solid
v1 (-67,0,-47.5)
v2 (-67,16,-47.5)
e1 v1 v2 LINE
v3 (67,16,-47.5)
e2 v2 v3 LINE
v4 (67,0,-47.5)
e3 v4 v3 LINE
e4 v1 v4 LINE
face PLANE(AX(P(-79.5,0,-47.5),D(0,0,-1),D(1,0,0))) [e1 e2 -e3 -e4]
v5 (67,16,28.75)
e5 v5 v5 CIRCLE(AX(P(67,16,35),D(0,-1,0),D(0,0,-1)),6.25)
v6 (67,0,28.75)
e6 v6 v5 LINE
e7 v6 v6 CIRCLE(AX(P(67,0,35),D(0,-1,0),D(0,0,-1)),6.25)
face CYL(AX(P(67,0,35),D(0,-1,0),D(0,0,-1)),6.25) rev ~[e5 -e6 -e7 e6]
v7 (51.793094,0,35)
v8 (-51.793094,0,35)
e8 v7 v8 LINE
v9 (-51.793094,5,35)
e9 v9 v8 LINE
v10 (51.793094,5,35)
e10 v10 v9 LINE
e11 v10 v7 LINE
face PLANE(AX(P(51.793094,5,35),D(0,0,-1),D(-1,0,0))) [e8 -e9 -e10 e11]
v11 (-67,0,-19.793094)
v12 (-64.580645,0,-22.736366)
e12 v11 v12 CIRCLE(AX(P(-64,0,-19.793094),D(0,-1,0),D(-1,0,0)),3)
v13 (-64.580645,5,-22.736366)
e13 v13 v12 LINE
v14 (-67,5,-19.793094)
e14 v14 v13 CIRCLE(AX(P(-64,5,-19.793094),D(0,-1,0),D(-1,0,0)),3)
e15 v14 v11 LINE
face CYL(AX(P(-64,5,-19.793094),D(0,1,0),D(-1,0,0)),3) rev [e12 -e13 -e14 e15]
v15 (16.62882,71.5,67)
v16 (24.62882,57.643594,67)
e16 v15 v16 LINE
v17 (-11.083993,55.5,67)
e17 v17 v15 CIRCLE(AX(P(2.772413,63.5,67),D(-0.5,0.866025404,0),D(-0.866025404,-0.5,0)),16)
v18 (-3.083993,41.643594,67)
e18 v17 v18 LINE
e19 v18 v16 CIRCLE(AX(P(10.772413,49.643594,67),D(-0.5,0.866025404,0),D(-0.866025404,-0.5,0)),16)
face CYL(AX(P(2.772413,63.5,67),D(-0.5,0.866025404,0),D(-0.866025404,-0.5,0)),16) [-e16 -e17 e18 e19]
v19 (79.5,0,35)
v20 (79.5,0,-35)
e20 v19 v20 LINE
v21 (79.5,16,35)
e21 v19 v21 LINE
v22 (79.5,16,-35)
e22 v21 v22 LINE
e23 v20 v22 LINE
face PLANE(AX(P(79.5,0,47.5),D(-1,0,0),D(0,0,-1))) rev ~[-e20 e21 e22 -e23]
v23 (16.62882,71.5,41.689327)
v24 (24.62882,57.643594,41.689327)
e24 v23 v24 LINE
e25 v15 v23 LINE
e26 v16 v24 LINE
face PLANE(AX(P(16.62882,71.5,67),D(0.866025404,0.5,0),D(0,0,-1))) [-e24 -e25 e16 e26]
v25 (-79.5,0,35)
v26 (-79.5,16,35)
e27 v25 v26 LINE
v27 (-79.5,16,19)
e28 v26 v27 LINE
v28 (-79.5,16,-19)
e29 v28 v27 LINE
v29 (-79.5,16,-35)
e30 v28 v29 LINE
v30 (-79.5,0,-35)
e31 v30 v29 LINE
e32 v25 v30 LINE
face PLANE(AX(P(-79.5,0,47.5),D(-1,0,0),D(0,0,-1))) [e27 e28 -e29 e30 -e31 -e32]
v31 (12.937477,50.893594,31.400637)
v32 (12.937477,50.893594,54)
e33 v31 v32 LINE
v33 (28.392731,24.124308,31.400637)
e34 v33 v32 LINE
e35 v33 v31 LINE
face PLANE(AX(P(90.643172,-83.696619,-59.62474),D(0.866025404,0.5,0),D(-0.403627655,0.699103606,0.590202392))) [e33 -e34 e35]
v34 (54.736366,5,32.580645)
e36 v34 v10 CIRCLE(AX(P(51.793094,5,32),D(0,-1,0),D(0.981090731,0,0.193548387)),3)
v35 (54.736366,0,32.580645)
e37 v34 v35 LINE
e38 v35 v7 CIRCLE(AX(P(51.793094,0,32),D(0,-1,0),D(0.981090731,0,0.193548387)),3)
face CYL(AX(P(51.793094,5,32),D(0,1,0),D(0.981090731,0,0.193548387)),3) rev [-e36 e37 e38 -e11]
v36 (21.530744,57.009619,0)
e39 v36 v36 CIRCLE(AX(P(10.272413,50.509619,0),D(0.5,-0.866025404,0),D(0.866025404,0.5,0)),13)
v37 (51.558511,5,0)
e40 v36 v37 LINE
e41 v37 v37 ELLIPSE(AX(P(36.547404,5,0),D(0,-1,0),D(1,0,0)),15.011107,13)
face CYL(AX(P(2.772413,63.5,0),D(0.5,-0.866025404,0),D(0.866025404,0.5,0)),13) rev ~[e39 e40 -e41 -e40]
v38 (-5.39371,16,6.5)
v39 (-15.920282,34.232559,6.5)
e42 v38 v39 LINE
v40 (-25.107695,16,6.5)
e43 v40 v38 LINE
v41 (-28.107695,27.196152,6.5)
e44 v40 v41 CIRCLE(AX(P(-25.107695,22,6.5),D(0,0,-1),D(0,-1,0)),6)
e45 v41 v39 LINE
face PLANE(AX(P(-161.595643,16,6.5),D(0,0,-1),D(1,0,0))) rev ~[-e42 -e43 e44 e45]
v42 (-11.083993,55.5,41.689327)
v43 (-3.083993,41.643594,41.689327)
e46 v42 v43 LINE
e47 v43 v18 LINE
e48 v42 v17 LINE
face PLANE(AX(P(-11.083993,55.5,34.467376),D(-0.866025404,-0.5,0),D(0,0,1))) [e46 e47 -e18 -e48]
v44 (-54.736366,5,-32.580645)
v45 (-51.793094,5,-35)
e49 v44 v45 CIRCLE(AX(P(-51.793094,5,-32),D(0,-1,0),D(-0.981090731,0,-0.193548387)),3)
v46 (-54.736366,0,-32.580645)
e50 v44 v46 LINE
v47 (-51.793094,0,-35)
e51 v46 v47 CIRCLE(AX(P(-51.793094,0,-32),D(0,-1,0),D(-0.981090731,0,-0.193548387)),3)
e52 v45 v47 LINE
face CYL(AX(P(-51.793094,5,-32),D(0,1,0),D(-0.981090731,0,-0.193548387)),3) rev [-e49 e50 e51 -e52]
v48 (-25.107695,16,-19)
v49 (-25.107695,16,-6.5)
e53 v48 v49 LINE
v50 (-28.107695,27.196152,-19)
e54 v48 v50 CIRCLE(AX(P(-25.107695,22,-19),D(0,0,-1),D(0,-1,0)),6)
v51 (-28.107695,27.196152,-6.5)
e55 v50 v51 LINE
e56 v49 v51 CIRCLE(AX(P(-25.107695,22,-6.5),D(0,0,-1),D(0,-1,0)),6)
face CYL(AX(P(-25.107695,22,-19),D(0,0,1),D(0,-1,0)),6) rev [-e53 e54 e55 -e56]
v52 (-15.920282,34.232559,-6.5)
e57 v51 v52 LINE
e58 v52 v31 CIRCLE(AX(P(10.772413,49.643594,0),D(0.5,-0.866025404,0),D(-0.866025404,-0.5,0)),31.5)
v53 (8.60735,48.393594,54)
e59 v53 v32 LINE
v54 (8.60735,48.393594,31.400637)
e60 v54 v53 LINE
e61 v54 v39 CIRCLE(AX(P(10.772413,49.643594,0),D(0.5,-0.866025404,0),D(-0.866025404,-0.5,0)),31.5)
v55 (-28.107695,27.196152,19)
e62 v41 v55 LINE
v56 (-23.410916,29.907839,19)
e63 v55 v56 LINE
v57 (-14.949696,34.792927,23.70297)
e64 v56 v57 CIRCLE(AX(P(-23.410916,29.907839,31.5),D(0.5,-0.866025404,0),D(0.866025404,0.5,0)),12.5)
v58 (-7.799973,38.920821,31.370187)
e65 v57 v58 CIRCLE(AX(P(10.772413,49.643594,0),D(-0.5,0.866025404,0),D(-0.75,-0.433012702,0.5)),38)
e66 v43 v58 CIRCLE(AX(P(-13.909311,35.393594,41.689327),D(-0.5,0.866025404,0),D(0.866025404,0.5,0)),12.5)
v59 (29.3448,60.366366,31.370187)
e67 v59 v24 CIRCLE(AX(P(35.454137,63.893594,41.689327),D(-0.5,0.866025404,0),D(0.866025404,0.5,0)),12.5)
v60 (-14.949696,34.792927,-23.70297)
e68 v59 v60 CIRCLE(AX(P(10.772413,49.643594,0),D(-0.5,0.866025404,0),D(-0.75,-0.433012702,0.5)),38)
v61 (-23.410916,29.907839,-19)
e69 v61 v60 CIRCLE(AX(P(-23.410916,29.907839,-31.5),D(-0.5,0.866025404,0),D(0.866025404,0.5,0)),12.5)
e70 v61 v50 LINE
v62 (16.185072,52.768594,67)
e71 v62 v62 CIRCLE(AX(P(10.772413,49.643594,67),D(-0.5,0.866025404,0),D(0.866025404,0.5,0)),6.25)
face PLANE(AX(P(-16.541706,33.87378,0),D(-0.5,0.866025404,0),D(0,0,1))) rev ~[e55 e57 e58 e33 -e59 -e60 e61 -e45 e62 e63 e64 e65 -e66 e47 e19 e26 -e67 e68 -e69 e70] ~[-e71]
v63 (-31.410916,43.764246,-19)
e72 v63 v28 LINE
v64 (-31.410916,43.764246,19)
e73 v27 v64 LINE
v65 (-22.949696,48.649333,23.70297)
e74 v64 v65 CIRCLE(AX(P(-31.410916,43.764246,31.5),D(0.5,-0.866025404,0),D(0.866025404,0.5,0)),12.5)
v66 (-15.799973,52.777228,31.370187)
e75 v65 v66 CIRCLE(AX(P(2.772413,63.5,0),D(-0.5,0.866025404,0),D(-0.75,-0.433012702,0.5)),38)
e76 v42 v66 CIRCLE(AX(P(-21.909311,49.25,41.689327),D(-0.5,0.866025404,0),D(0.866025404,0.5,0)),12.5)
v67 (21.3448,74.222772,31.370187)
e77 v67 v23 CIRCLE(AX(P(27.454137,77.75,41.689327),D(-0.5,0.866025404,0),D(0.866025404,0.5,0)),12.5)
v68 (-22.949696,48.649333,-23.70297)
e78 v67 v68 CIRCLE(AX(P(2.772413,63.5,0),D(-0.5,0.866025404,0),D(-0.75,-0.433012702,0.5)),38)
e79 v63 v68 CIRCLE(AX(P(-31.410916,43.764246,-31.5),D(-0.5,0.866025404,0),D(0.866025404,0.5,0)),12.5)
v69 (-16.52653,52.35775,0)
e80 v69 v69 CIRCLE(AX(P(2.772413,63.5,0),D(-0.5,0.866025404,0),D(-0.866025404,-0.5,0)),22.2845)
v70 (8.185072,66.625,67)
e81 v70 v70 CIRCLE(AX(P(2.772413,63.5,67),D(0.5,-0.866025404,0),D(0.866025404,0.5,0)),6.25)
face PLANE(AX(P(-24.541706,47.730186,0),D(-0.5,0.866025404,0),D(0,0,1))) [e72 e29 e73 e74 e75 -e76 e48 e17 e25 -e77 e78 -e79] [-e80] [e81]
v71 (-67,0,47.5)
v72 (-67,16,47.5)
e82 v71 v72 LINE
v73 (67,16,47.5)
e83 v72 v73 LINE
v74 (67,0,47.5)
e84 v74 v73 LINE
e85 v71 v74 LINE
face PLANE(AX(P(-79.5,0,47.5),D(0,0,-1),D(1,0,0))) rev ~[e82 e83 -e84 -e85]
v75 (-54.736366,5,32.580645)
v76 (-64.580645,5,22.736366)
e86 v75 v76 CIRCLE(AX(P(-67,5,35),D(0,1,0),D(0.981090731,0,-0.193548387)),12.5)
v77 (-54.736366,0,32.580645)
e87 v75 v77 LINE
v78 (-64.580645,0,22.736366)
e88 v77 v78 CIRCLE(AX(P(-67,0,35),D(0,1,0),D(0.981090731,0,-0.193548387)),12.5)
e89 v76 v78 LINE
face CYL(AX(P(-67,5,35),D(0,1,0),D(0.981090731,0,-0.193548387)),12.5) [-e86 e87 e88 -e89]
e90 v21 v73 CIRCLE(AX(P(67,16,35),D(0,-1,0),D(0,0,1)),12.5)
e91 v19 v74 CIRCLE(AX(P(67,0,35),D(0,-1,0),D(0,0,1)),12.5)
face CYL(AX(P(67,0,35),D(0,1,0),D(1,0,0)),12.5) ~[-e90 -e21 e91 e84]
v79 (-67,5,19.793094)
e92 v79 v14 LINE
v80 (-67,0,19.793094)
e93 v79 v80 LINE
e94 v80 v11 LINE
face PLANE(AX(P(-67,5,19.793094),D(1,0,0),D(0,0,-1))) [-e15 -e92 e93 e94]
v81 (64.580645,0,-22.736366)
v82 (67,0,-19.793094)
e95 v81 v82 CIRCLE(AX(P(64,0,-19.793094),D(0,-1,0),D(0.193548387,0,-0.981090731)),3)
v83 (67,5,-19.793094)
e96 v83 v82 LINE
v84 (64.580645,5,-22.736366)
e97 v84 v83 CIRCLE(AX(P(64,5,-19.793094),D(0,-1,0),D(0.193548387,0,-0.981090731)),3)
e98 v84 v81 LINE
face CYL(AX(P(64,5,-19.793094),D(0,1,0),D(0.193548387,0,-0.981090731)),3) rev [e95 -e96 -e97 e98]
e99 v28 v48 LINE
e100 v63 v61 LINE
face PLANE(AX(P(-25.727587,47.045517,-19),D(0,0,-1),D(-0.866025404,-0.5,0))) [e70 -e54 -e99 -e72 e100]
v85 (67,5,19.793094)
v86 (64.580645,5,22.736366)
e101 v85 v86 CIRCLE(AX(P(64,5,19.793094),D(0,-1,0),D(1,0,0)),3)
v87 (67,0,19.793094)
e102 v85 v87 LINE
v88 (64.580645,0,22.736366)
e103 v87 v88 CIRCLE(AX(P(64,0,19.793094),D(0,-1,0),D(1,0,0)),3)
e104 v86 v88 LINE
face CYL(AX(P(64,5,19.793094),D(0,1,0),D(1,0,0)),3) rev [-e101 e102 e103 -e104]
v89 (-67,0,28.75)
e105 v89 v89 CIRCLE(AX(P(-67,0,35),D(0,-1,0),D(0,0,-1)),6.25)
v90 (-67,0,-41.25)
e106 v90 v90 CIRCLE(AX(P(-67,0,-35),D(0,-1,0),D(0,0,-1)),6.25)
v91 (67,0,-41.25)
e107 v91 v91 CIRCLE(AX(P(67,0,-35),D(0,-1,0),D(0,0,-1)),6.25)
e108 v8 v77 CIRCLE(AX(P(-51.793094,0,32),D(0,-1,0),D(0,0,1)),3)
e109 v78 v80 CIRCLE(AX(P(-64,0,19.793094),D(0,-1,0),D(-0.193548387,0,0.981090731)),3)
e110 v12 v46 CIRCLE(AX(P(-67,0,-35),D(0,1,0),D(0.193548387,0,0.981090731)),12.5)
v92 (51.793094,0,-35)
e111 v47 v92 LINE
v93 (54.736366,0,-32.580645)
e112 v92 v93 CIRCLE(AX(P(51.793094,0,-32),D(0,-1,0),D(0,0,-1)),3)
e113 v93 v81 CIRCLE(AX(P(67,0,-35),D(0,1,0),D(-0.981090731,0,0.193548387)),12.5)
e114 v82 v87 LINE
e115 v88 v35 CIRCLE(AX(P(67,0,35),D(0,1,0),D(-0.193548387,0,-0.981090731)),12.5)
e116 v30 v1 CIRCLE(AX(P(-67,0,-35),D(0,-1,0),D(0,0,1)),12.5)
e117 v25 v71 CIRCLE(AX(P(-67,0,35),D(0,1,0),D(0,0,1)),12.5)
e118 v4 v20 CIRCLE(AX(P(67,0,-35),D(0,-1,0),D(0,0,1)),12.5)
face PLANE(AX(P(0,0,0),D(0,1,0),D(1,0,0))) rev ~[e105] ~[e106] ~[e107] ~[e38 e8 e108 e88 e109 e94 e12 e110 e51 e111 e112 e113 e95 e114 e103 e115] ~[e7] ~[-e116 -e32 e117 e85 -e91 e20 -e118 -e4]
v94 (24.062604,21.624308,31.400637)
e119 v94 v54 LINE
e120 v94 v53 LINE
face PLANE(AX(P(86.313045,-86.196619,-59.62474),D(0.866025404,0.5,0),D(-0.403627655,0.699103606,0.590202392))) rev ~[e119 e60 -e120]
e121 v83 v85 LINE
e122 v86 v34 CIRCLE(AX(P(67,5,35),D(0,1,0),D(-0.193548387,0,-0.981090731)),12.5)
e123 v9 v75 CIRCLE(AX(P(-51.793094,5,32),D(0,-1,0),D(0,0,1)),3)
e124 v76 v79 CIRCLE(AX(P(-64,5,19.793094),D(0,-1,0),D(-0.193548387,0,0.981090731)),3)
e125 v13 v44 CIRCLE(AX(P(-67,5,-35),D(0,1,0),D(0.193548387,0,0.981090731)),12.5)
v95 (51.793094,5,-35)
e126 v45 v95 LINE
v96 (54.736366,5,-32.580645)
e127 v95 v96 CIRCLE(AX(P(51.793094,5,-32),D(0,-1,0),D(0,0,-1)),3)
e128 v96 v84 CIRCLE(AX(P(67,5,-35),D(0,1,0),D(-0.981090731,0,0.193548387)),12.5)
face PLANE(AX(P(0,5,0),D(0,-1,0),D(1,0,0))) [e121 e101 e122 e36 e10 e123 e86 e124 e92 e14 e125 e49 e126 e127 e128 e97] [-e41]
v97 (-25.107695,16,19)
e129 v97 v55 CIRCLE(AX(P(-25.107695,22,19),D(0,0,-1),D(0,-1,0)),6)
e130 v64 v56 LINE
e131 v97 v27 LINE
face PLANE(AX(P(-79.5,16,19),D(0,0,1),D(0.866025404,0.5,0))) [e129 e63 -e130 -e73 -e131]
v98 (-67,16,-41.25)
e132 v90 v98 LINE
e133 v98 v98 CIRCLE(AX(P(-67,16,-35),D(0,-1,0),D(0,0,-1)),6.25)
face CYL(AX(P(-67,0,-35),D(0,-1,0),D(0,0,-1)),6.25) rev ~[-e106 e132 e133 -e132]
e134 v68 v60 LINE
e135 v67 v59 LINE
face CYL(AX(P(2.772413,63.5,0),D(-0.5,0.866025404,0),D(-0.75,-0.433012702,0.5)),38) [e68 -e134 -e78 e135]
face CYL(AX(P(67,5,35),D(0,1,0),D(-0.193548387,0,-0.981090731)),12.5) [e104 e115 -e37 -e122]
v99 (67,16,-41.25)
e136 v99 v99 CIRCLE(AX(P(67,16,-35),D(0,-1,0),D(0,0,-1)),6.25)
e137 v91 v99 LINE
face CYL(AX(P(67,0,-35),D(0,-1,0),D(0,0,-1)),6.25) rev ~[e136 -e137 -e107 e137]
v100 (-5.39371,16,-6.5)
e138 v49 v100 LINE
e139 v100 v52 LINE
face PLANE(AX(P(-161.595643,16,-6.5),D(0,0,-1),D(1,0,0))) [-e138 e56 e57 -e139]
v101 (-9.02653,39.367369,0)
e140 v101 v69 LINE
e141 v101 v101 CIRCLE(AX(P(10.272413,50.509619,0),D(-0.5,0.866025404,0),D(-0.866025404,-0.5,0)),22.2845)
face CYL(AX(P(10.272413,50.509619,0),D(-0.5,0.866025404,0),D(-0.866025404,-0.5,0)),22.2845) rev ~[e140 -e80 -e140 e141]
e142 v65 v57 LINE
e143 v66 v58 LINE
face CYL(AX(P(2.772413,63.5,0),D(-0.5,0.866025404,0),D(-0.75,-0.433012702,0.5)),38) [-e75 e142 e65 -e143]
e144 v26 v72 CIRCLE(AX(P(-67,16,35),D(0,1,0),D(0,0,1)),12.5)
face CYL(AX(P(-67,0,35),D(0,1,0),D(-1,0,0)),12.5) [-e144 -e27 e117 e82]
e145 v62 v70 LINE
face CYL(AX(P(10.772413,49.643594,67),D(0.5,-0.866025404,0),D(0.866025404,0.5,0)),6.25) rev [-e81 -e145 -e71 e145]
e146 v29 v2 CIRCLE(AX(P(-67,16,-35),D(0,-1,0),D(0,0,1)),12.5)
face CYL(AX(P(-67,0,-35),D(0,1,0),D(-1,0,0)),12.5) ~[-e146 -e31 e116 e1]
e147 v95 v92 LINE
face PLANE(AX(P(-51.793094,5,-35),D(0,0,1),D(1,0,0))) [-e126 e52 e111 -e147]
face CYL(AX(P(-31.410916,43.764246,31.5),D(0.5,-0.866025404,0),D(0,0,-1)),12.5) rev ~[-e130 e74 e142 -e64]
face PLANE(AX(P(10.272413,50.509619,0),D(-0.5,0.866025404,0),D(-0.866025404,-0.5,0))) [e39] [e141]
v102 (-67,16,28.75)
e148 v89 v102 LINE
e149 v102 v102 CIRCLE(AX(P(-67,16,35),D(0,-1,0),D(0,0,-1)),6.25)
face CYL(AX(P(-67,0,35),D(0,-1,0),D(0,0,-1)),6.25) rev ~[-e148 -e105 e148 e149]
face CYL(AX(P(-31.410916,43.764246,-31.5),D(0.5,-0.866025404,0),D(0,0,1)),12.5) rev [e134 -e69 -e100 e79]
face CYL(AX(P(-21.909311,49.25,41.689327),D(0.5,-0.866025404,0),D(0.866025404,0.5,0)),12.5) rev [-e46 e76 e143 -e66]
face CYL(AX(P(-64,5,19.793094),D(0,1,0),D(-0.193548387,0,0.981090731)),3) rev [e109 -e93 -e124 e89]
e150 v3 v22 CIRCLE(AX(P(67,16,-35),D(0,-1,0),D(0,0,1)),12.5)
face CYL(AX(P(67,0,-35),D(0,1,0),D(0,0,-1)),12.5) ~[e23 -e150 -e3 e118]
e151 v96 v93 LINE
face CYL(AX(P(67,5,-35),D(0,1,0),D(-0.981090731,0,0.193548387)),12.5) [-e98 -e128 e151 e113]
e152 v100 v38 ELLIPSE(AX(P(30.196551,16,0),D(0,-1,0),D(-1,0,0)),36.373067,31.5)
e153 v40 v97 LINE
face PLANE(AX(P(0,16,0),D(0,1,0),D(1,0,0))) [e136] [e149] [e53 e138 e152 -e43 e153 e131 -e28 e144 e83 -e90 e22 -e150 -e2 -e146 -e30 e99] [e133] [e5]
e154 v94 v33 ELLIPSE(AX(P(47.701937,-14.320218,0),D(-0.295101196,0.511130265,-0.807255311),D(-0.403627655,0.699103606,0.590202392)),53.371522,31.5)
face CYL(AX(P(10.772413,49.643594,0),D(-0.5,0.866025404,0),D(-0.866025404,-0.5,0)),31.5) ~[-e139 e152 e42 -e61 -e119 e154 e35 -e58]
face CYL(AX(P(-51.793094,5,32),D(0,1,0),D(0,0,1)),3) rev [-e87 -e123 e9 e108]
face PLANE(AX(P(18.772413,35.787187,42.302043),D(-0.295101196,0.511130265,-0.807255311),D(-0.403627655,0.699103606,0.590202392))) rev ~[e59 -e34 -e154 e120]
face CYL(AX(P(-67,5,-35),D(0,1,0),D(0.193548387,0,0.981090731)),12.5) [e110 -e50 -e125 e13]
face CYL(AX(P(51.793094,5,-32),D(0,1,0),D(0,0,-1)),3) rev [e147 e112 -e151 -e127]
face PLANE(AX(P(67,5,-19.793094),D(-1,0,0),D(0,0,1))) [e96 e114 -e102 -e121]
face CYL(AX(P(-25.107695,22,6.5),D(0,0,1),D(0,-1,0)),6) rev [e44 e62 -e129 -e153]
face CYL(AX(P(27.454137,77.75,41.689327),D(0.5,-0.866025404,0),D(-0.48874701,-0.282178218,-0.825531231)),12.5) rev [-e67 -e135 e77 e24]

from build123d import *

# Parameters (mm, degrees)
SKETCH2_W                                 = 159
SKETCH2_H                                 = 95
BASE_EXTRUDE_DEPTH                        = 16
BOSS_EXTRUDE1_DEPTH                       = 16
BOSS_EXTRUDE2_REACH                       = 122.054
SKETCH4_R                                 = 31.5
RIB1_REACH                                = 126.027
SKETCH5_WALL_W                            = 278.31185129
SKETCH5_WALL_H                            = 13
BOSS_EXTRUDE3_DEPTH                       = 16
SKETCH7_R                                 = 6.25
CUT_EXTRUDE1_DEPTH                        = 139.006210257
FILLET1_R                                 = 12.5
CUT_EXTRUDE2_START                        = -5
CUT_EXTRUDE2_DEPTH                        = 5
RIB2_REACH                                = 153.878
SKETCH9_WALL_W                            = 345.396032214
SKETCH9_WALL_H                            = 5
CBORE_FOR_M24_HEX_HEAD_SCREW1_D           = 26
CBORE_FOR_M24_HEX_HEAD_SCREW1_CBORE_D     = 44.569
CBORE_FOR_M24_HEX_HEAD_SCREW1_CBORE_DEPTH = 15
FILLET4_R                                 = 6
CUT_EXTRUDE3_REACH                        = 143.476
SKETCH13_R                                = 6.25


with BuildPart() as part:
    # Sketch2 → Base-Extrude (new body)
    with BuildSketch(Plane(origin=(0, 0, 0), x_dir=(1, 0, 0), z_dir=(0, 1, 0))):
        Rectangle(SKETCH2_W, SKETCH2_H)
    extrude(amount=BASE_EXTRUDE_DEPTH)

    # Sketch3 → Boss-Extrude1 (add)
    with BuildSketch(Plane(origin=(-26.80320323, 46.4245098, 0), x_dir=(0, 0, -1), z_dir=(0.499999999999998, -0.8660254037844398, 0))):
        with BuildLine():
            Line((-19, -60.849019601), (-19, 1.242015055))
            ThreePointArc((-19, 1.242015055), (0, 72.150980399), (19, 1.242015055))
            Line((19, 1.242015055), (19, -60.849019601))
            Line((19, -60.849019601), (-19, -60.849019601))
        make_face()
    extrude(amount=BOSS_EXTRUDE1_DEPTH)

    # Boss-Extrude2: up to this plane
    boss_extrude2_end = Plane(origin=(-79.5, 16, -47.5), z_dir=(0, -1, 0))
    # Sketch4 → Boss-Extrude2 (add, up to the surface)
    with BuildSketch(Plane(origin=(-18.80320323, 32.56810334, 0), x_dir=(0.8660254037844398, 0.49999999999999806, 0), z_dir=(0.499999999999998, -0.8660254037844397, 0)), mode=Mode.PRIVATE) as boss_extrude2_sk1:
        with Locations(Location((34.150980399, 0, 0), (0, 0, 180))):
            Circle(SKETCH4_R)
    boss_extrude2_tool1 = split(extrude(boss_extrude2_sk1.sketch, amount=BOSS_EXTRUDE2_REACH, mode=Mode.PRIVATE), bisect_by=boss_extrude2_end, keep=Keep.BOTH, mode=Mode.PRIVATE)
    add(boss_extrude2_tool1.solids().sort_by_distance((10.772413, 49.643594, 0))[0])

    # Sketch5 wall → Rib1 (add, up to next)
    with BuildSketch(Plane(origin=(-22.439717295, 16, 0), x_dir=(1, 0, 0), z_dir=(0, 1, 0)), mode=Mode.PRIVATE) as rib1_sk1:
        Rectangle(SKETCH5_WALL_W, SKETCH5_WALL_H)
    rib1_tool1 = extrude(rib1_sk1.sketch, amount=RIB1_REACH, mode=Mode.PRIVATE) - part.part
    add(rib1_tool1.solids().sort_by_distance((-22.439717295, 16, 0))[0])

    # Sketch6 → Boss-Extrude3 (add)
    with BuildSketch(Plane(origin=(-26.80320323, 46.4245098, 0), x_dir=(-0.8660254037844398, -0.49999999999999806, 0), z_dir=(-0.499999999999998, 0.8660254037844397, 0))):
        with BuildLine():
            Line((-18.150980399, 34.467375879), (-18.150980399, 67))
            ThreePointArc((-18.150980399, 67), (-34.150980399, 83), (-50.150980399, 67))
            Line((-50.150980399, 67), (-50.150980399, 34.467375879))
            ThreePointArc((-50.150980399, 34.467375879), (-34.150980399, 38), (-18.150980399, 34.467375879))
        make_face()
    extrude(amount=-BOSS_EXTRUDE3_DEPTH)

    # Sketch7 → Cut-Extrude1 (cut, through all)
    with BuildSketch(Plane(origin=(-18.80320323, 32.56810334, 0), x_dir=(-0.8660254037844398, -0.49999999999999806, 0), z_dir=(-0.499999999999998, 0.8660254037844397, 0))):
        with Locations(Location((-34.150980399, 67, 0), (0, 0, 180))):
            Circle(SKETCH7_R)
    extrude(amount=CUT_EXTRUDE1_DEPTH, mode=Mode.SUBTRACT)

    # Fillet1
    fillet1_edges = [part.edges().sort_by_distance(p)[0] for p in [
        (-21.72758664, 40.117314098, 19),
        (-21.72758664, 40.117314098, -19),
        (20.62881982, 64.57179677, 34.467375879),
        (-7.083993101, 48.57179677, 34.467375879),
        (-79.5, 8, -47.5),
        (79.5, 8, -47.5),
        (79.5, 8, 47.5),
        (-79.5, 8, 47.5),
    ]]
    fillet(fillet1_edges, radius=FILLET1_R)

    # Sketch8 → Cut-Extrude2 (cut)
    with BuildSketch(Plane.XZ.offset(CUT_EXTRUDE2_START)):
        with BuildLine():
            Line((-51.793093674, -35), (51.793093674, -35))
            ThreePointArc((51.793093674, -35), (53.698095579, -34.317534842), (54.736365866, -32.580645161))
            ThreePointArc((54.736365866, -32.580645161), (58.161165235, -26.161165235), (64.580645161, -22.736365866))
            ThreePointArc((64.580645161, -22.736365866), (66.317534842, -21.698095579), (67, -19.793093674))
            Line((67, -19.793093674), (67, 19.793093674))
            ThreePointArc((67, 19.793093674), (66.317534842, 21.698095579), (64.580645161, 22.736365866))
            ThreePointArc((64.580645161, 22.736365866), (58.161165235, 26.161165235), (54.736365866, 32.580645161))
            ThreePointArc((54.736365866, 32.580645161), (53.698095579, 34.317534842), (51.793093674, 35))
            Line((51.793093674, 35), (-51.793093674, 35))
            ThreePointArc((-51.793093674, 35), (-53.698095579, 34.317534842), (-54.736365866, 32.580645161))
            ThreePointArc((-54.736365866, 32.580645161), (-58.161165235, 26.161165235), (-64.580645161, 22.736365866))
            ThreePointArc((-64.580645161, 22.736365866), (-66.317534842, 21.698095579), (-67, 19.793093674))
            Line((-67, 19.793093674), (-67, -19.793093674))
            ThreePointArc((-67, -19.793093674), (-66.317534842, -21.698095579), (-64.580645161, -22.736365866))
            ThreePointArc((-64.580645161, -22.736365866), (-58.161165235, -26.161165235), (-54.736365866, -32.580645161))
            ThreePointArc((-54.736365866, -32.580645161), (-53.698095579, -34.317534842), (-51.793093674, -35))
        make_face()
    extrude(amount=CUT_EXTRUDE2_DEPTH, mode=Mode.SUBTRACT)

    # Sketch9 wall → Rib2 (add, up to next)
    with BuildSketch(Plane(origin=(18.77241336, 35.787187078, 42.302042556), x_dir=(-0.40362765533, 0.699103606369, 0.590202391909), z_dir=(-0.295101195954, 0.511130264767, -0.807255310658)), mode=Mode.PRIVATE) as rib2_sk1:
        Rectangle(SKETCH9_WALL_W, SKETCH9_WALL_H)
    rib2_tool1 = extrude(rib2_sk1.sketch, amount=RIB2_REACH, mode=Mode.PRIVATE) - part.part
    add(rib2_tool1.solids().sort_by_distance((18.77241336, 35.787187078, 42.302042556))[0])

    # CBORE for M24 Hex Head Screw1 (through all)
    with Locations(Plane(origin=(-26.80320323, 46.4245098, 0), x_dir=(-0.8660254037844398, -0.49999999999999806, 0), z_dir=(-0.499999999999998, 0.8660254037844397, 0))):
        with Locations((-34.150980399, 0)):
            CounterBoreHole(CBORE_FOR_M24_HEX_HEAD_SCREW1_D / 2, CBORE_FOR_M24_HEX_HEAD_SCREW1_CBORE_D / 2, CBORE_FOR_M24_HEX_HEAD_SCREW1_CBORE_DEPTH)

    # Fillet4
    fillet4_edges = [part.edges().sort_by_distance(p)[0] for p in [
        (-47.5, 16, -12.75),
        (-47.5, 16, 12.75),
    ]]
    fillet(fillet4_edges, radius=FILLET4_R)

    # Sketch13 → Cut-Extrude3 (cut, up to next)
    with BuildSketch(Plane.XZ, mode=Mode.PRIVATE) as cut_extrude3_sk1:
        with Locations(Location((67, 35, 0), (0, 0, 270))):
            Circle(SKETCH13_R)
    cut_extrude3_tool1 = extrude(cut_extrude3_sk1.sketch, amount=-CUT_EXTRUDE3_REACH, mode=Mode.PRIVATE) & part.part
    # Sketch13 → Cut-Extrude3 (cut, up to next)
    with BuildSketch(Plane.XZ, mode=Mode.PRIVATE) as cut_extrude3_sk2:
        with Locations(Location((67, -35, 0), (0, 0, 270))):
            Circle(SKETCH13_R)
    cut_extrude3_tool2 = extrude(cut_extrude3_sk2.sketch, amount=-CUT_EXTRUDE3_REACH, mode=Mode.PRIVATE) & part.part
    # Sketch13 → Cut-Extrude3 (cut, up to next)
    with BuildSketch(Plane.XZ, mode=Mode.PRIVATE) as cut_extrude3_sk3:
        with Locations(Location((-67, -35, 0), (0, 0, 270))):
            Circle(SKETCH13_R)
    cut_extrude3_tool3 = extrude(cut_extrude3_sk3.sketch, amount=-CUT_EXTRUDE3_REACH, mode=Mode.PRIVATE) & part.part
    # Sketch13 → Cut-Extrude3 (cut, up to next)
    with BuildSketch(Plane.XZ, mode=Mode.PRIVATE) as cut_extrude3_sk4:
        with Locations(Location((-67, 35, 0), (0, 0, 270))):
            Circle(SKETCH13_R)
    cut_extrude3_tool4 = extrude(cut_extrude3_sk4.sketch, amount=-CUT_EXTRUDE3_REACH, mode=Mode.PRIVATE) & part.part
    add(cut_extrude3_tool1.solids().sort_by_distance((67, 0, 35))[0], mode=Mode.SUBTRACT)
    add(cut_extrude3_tool2.solids().sort_by_distance((67, 0, -35))[0], mode=Mode.SUBTRACT)
    add(cut_extrude3_tool3.solids().sort_by_distance((-67, 0, -35))[0], mode=Mode.SUBTRACT)
    add(cut_extrude3_tool4.solids().sort_by_distance((-67, 0, 35))[0], mode=Mode.SUBTRACT)


solid = part.part
